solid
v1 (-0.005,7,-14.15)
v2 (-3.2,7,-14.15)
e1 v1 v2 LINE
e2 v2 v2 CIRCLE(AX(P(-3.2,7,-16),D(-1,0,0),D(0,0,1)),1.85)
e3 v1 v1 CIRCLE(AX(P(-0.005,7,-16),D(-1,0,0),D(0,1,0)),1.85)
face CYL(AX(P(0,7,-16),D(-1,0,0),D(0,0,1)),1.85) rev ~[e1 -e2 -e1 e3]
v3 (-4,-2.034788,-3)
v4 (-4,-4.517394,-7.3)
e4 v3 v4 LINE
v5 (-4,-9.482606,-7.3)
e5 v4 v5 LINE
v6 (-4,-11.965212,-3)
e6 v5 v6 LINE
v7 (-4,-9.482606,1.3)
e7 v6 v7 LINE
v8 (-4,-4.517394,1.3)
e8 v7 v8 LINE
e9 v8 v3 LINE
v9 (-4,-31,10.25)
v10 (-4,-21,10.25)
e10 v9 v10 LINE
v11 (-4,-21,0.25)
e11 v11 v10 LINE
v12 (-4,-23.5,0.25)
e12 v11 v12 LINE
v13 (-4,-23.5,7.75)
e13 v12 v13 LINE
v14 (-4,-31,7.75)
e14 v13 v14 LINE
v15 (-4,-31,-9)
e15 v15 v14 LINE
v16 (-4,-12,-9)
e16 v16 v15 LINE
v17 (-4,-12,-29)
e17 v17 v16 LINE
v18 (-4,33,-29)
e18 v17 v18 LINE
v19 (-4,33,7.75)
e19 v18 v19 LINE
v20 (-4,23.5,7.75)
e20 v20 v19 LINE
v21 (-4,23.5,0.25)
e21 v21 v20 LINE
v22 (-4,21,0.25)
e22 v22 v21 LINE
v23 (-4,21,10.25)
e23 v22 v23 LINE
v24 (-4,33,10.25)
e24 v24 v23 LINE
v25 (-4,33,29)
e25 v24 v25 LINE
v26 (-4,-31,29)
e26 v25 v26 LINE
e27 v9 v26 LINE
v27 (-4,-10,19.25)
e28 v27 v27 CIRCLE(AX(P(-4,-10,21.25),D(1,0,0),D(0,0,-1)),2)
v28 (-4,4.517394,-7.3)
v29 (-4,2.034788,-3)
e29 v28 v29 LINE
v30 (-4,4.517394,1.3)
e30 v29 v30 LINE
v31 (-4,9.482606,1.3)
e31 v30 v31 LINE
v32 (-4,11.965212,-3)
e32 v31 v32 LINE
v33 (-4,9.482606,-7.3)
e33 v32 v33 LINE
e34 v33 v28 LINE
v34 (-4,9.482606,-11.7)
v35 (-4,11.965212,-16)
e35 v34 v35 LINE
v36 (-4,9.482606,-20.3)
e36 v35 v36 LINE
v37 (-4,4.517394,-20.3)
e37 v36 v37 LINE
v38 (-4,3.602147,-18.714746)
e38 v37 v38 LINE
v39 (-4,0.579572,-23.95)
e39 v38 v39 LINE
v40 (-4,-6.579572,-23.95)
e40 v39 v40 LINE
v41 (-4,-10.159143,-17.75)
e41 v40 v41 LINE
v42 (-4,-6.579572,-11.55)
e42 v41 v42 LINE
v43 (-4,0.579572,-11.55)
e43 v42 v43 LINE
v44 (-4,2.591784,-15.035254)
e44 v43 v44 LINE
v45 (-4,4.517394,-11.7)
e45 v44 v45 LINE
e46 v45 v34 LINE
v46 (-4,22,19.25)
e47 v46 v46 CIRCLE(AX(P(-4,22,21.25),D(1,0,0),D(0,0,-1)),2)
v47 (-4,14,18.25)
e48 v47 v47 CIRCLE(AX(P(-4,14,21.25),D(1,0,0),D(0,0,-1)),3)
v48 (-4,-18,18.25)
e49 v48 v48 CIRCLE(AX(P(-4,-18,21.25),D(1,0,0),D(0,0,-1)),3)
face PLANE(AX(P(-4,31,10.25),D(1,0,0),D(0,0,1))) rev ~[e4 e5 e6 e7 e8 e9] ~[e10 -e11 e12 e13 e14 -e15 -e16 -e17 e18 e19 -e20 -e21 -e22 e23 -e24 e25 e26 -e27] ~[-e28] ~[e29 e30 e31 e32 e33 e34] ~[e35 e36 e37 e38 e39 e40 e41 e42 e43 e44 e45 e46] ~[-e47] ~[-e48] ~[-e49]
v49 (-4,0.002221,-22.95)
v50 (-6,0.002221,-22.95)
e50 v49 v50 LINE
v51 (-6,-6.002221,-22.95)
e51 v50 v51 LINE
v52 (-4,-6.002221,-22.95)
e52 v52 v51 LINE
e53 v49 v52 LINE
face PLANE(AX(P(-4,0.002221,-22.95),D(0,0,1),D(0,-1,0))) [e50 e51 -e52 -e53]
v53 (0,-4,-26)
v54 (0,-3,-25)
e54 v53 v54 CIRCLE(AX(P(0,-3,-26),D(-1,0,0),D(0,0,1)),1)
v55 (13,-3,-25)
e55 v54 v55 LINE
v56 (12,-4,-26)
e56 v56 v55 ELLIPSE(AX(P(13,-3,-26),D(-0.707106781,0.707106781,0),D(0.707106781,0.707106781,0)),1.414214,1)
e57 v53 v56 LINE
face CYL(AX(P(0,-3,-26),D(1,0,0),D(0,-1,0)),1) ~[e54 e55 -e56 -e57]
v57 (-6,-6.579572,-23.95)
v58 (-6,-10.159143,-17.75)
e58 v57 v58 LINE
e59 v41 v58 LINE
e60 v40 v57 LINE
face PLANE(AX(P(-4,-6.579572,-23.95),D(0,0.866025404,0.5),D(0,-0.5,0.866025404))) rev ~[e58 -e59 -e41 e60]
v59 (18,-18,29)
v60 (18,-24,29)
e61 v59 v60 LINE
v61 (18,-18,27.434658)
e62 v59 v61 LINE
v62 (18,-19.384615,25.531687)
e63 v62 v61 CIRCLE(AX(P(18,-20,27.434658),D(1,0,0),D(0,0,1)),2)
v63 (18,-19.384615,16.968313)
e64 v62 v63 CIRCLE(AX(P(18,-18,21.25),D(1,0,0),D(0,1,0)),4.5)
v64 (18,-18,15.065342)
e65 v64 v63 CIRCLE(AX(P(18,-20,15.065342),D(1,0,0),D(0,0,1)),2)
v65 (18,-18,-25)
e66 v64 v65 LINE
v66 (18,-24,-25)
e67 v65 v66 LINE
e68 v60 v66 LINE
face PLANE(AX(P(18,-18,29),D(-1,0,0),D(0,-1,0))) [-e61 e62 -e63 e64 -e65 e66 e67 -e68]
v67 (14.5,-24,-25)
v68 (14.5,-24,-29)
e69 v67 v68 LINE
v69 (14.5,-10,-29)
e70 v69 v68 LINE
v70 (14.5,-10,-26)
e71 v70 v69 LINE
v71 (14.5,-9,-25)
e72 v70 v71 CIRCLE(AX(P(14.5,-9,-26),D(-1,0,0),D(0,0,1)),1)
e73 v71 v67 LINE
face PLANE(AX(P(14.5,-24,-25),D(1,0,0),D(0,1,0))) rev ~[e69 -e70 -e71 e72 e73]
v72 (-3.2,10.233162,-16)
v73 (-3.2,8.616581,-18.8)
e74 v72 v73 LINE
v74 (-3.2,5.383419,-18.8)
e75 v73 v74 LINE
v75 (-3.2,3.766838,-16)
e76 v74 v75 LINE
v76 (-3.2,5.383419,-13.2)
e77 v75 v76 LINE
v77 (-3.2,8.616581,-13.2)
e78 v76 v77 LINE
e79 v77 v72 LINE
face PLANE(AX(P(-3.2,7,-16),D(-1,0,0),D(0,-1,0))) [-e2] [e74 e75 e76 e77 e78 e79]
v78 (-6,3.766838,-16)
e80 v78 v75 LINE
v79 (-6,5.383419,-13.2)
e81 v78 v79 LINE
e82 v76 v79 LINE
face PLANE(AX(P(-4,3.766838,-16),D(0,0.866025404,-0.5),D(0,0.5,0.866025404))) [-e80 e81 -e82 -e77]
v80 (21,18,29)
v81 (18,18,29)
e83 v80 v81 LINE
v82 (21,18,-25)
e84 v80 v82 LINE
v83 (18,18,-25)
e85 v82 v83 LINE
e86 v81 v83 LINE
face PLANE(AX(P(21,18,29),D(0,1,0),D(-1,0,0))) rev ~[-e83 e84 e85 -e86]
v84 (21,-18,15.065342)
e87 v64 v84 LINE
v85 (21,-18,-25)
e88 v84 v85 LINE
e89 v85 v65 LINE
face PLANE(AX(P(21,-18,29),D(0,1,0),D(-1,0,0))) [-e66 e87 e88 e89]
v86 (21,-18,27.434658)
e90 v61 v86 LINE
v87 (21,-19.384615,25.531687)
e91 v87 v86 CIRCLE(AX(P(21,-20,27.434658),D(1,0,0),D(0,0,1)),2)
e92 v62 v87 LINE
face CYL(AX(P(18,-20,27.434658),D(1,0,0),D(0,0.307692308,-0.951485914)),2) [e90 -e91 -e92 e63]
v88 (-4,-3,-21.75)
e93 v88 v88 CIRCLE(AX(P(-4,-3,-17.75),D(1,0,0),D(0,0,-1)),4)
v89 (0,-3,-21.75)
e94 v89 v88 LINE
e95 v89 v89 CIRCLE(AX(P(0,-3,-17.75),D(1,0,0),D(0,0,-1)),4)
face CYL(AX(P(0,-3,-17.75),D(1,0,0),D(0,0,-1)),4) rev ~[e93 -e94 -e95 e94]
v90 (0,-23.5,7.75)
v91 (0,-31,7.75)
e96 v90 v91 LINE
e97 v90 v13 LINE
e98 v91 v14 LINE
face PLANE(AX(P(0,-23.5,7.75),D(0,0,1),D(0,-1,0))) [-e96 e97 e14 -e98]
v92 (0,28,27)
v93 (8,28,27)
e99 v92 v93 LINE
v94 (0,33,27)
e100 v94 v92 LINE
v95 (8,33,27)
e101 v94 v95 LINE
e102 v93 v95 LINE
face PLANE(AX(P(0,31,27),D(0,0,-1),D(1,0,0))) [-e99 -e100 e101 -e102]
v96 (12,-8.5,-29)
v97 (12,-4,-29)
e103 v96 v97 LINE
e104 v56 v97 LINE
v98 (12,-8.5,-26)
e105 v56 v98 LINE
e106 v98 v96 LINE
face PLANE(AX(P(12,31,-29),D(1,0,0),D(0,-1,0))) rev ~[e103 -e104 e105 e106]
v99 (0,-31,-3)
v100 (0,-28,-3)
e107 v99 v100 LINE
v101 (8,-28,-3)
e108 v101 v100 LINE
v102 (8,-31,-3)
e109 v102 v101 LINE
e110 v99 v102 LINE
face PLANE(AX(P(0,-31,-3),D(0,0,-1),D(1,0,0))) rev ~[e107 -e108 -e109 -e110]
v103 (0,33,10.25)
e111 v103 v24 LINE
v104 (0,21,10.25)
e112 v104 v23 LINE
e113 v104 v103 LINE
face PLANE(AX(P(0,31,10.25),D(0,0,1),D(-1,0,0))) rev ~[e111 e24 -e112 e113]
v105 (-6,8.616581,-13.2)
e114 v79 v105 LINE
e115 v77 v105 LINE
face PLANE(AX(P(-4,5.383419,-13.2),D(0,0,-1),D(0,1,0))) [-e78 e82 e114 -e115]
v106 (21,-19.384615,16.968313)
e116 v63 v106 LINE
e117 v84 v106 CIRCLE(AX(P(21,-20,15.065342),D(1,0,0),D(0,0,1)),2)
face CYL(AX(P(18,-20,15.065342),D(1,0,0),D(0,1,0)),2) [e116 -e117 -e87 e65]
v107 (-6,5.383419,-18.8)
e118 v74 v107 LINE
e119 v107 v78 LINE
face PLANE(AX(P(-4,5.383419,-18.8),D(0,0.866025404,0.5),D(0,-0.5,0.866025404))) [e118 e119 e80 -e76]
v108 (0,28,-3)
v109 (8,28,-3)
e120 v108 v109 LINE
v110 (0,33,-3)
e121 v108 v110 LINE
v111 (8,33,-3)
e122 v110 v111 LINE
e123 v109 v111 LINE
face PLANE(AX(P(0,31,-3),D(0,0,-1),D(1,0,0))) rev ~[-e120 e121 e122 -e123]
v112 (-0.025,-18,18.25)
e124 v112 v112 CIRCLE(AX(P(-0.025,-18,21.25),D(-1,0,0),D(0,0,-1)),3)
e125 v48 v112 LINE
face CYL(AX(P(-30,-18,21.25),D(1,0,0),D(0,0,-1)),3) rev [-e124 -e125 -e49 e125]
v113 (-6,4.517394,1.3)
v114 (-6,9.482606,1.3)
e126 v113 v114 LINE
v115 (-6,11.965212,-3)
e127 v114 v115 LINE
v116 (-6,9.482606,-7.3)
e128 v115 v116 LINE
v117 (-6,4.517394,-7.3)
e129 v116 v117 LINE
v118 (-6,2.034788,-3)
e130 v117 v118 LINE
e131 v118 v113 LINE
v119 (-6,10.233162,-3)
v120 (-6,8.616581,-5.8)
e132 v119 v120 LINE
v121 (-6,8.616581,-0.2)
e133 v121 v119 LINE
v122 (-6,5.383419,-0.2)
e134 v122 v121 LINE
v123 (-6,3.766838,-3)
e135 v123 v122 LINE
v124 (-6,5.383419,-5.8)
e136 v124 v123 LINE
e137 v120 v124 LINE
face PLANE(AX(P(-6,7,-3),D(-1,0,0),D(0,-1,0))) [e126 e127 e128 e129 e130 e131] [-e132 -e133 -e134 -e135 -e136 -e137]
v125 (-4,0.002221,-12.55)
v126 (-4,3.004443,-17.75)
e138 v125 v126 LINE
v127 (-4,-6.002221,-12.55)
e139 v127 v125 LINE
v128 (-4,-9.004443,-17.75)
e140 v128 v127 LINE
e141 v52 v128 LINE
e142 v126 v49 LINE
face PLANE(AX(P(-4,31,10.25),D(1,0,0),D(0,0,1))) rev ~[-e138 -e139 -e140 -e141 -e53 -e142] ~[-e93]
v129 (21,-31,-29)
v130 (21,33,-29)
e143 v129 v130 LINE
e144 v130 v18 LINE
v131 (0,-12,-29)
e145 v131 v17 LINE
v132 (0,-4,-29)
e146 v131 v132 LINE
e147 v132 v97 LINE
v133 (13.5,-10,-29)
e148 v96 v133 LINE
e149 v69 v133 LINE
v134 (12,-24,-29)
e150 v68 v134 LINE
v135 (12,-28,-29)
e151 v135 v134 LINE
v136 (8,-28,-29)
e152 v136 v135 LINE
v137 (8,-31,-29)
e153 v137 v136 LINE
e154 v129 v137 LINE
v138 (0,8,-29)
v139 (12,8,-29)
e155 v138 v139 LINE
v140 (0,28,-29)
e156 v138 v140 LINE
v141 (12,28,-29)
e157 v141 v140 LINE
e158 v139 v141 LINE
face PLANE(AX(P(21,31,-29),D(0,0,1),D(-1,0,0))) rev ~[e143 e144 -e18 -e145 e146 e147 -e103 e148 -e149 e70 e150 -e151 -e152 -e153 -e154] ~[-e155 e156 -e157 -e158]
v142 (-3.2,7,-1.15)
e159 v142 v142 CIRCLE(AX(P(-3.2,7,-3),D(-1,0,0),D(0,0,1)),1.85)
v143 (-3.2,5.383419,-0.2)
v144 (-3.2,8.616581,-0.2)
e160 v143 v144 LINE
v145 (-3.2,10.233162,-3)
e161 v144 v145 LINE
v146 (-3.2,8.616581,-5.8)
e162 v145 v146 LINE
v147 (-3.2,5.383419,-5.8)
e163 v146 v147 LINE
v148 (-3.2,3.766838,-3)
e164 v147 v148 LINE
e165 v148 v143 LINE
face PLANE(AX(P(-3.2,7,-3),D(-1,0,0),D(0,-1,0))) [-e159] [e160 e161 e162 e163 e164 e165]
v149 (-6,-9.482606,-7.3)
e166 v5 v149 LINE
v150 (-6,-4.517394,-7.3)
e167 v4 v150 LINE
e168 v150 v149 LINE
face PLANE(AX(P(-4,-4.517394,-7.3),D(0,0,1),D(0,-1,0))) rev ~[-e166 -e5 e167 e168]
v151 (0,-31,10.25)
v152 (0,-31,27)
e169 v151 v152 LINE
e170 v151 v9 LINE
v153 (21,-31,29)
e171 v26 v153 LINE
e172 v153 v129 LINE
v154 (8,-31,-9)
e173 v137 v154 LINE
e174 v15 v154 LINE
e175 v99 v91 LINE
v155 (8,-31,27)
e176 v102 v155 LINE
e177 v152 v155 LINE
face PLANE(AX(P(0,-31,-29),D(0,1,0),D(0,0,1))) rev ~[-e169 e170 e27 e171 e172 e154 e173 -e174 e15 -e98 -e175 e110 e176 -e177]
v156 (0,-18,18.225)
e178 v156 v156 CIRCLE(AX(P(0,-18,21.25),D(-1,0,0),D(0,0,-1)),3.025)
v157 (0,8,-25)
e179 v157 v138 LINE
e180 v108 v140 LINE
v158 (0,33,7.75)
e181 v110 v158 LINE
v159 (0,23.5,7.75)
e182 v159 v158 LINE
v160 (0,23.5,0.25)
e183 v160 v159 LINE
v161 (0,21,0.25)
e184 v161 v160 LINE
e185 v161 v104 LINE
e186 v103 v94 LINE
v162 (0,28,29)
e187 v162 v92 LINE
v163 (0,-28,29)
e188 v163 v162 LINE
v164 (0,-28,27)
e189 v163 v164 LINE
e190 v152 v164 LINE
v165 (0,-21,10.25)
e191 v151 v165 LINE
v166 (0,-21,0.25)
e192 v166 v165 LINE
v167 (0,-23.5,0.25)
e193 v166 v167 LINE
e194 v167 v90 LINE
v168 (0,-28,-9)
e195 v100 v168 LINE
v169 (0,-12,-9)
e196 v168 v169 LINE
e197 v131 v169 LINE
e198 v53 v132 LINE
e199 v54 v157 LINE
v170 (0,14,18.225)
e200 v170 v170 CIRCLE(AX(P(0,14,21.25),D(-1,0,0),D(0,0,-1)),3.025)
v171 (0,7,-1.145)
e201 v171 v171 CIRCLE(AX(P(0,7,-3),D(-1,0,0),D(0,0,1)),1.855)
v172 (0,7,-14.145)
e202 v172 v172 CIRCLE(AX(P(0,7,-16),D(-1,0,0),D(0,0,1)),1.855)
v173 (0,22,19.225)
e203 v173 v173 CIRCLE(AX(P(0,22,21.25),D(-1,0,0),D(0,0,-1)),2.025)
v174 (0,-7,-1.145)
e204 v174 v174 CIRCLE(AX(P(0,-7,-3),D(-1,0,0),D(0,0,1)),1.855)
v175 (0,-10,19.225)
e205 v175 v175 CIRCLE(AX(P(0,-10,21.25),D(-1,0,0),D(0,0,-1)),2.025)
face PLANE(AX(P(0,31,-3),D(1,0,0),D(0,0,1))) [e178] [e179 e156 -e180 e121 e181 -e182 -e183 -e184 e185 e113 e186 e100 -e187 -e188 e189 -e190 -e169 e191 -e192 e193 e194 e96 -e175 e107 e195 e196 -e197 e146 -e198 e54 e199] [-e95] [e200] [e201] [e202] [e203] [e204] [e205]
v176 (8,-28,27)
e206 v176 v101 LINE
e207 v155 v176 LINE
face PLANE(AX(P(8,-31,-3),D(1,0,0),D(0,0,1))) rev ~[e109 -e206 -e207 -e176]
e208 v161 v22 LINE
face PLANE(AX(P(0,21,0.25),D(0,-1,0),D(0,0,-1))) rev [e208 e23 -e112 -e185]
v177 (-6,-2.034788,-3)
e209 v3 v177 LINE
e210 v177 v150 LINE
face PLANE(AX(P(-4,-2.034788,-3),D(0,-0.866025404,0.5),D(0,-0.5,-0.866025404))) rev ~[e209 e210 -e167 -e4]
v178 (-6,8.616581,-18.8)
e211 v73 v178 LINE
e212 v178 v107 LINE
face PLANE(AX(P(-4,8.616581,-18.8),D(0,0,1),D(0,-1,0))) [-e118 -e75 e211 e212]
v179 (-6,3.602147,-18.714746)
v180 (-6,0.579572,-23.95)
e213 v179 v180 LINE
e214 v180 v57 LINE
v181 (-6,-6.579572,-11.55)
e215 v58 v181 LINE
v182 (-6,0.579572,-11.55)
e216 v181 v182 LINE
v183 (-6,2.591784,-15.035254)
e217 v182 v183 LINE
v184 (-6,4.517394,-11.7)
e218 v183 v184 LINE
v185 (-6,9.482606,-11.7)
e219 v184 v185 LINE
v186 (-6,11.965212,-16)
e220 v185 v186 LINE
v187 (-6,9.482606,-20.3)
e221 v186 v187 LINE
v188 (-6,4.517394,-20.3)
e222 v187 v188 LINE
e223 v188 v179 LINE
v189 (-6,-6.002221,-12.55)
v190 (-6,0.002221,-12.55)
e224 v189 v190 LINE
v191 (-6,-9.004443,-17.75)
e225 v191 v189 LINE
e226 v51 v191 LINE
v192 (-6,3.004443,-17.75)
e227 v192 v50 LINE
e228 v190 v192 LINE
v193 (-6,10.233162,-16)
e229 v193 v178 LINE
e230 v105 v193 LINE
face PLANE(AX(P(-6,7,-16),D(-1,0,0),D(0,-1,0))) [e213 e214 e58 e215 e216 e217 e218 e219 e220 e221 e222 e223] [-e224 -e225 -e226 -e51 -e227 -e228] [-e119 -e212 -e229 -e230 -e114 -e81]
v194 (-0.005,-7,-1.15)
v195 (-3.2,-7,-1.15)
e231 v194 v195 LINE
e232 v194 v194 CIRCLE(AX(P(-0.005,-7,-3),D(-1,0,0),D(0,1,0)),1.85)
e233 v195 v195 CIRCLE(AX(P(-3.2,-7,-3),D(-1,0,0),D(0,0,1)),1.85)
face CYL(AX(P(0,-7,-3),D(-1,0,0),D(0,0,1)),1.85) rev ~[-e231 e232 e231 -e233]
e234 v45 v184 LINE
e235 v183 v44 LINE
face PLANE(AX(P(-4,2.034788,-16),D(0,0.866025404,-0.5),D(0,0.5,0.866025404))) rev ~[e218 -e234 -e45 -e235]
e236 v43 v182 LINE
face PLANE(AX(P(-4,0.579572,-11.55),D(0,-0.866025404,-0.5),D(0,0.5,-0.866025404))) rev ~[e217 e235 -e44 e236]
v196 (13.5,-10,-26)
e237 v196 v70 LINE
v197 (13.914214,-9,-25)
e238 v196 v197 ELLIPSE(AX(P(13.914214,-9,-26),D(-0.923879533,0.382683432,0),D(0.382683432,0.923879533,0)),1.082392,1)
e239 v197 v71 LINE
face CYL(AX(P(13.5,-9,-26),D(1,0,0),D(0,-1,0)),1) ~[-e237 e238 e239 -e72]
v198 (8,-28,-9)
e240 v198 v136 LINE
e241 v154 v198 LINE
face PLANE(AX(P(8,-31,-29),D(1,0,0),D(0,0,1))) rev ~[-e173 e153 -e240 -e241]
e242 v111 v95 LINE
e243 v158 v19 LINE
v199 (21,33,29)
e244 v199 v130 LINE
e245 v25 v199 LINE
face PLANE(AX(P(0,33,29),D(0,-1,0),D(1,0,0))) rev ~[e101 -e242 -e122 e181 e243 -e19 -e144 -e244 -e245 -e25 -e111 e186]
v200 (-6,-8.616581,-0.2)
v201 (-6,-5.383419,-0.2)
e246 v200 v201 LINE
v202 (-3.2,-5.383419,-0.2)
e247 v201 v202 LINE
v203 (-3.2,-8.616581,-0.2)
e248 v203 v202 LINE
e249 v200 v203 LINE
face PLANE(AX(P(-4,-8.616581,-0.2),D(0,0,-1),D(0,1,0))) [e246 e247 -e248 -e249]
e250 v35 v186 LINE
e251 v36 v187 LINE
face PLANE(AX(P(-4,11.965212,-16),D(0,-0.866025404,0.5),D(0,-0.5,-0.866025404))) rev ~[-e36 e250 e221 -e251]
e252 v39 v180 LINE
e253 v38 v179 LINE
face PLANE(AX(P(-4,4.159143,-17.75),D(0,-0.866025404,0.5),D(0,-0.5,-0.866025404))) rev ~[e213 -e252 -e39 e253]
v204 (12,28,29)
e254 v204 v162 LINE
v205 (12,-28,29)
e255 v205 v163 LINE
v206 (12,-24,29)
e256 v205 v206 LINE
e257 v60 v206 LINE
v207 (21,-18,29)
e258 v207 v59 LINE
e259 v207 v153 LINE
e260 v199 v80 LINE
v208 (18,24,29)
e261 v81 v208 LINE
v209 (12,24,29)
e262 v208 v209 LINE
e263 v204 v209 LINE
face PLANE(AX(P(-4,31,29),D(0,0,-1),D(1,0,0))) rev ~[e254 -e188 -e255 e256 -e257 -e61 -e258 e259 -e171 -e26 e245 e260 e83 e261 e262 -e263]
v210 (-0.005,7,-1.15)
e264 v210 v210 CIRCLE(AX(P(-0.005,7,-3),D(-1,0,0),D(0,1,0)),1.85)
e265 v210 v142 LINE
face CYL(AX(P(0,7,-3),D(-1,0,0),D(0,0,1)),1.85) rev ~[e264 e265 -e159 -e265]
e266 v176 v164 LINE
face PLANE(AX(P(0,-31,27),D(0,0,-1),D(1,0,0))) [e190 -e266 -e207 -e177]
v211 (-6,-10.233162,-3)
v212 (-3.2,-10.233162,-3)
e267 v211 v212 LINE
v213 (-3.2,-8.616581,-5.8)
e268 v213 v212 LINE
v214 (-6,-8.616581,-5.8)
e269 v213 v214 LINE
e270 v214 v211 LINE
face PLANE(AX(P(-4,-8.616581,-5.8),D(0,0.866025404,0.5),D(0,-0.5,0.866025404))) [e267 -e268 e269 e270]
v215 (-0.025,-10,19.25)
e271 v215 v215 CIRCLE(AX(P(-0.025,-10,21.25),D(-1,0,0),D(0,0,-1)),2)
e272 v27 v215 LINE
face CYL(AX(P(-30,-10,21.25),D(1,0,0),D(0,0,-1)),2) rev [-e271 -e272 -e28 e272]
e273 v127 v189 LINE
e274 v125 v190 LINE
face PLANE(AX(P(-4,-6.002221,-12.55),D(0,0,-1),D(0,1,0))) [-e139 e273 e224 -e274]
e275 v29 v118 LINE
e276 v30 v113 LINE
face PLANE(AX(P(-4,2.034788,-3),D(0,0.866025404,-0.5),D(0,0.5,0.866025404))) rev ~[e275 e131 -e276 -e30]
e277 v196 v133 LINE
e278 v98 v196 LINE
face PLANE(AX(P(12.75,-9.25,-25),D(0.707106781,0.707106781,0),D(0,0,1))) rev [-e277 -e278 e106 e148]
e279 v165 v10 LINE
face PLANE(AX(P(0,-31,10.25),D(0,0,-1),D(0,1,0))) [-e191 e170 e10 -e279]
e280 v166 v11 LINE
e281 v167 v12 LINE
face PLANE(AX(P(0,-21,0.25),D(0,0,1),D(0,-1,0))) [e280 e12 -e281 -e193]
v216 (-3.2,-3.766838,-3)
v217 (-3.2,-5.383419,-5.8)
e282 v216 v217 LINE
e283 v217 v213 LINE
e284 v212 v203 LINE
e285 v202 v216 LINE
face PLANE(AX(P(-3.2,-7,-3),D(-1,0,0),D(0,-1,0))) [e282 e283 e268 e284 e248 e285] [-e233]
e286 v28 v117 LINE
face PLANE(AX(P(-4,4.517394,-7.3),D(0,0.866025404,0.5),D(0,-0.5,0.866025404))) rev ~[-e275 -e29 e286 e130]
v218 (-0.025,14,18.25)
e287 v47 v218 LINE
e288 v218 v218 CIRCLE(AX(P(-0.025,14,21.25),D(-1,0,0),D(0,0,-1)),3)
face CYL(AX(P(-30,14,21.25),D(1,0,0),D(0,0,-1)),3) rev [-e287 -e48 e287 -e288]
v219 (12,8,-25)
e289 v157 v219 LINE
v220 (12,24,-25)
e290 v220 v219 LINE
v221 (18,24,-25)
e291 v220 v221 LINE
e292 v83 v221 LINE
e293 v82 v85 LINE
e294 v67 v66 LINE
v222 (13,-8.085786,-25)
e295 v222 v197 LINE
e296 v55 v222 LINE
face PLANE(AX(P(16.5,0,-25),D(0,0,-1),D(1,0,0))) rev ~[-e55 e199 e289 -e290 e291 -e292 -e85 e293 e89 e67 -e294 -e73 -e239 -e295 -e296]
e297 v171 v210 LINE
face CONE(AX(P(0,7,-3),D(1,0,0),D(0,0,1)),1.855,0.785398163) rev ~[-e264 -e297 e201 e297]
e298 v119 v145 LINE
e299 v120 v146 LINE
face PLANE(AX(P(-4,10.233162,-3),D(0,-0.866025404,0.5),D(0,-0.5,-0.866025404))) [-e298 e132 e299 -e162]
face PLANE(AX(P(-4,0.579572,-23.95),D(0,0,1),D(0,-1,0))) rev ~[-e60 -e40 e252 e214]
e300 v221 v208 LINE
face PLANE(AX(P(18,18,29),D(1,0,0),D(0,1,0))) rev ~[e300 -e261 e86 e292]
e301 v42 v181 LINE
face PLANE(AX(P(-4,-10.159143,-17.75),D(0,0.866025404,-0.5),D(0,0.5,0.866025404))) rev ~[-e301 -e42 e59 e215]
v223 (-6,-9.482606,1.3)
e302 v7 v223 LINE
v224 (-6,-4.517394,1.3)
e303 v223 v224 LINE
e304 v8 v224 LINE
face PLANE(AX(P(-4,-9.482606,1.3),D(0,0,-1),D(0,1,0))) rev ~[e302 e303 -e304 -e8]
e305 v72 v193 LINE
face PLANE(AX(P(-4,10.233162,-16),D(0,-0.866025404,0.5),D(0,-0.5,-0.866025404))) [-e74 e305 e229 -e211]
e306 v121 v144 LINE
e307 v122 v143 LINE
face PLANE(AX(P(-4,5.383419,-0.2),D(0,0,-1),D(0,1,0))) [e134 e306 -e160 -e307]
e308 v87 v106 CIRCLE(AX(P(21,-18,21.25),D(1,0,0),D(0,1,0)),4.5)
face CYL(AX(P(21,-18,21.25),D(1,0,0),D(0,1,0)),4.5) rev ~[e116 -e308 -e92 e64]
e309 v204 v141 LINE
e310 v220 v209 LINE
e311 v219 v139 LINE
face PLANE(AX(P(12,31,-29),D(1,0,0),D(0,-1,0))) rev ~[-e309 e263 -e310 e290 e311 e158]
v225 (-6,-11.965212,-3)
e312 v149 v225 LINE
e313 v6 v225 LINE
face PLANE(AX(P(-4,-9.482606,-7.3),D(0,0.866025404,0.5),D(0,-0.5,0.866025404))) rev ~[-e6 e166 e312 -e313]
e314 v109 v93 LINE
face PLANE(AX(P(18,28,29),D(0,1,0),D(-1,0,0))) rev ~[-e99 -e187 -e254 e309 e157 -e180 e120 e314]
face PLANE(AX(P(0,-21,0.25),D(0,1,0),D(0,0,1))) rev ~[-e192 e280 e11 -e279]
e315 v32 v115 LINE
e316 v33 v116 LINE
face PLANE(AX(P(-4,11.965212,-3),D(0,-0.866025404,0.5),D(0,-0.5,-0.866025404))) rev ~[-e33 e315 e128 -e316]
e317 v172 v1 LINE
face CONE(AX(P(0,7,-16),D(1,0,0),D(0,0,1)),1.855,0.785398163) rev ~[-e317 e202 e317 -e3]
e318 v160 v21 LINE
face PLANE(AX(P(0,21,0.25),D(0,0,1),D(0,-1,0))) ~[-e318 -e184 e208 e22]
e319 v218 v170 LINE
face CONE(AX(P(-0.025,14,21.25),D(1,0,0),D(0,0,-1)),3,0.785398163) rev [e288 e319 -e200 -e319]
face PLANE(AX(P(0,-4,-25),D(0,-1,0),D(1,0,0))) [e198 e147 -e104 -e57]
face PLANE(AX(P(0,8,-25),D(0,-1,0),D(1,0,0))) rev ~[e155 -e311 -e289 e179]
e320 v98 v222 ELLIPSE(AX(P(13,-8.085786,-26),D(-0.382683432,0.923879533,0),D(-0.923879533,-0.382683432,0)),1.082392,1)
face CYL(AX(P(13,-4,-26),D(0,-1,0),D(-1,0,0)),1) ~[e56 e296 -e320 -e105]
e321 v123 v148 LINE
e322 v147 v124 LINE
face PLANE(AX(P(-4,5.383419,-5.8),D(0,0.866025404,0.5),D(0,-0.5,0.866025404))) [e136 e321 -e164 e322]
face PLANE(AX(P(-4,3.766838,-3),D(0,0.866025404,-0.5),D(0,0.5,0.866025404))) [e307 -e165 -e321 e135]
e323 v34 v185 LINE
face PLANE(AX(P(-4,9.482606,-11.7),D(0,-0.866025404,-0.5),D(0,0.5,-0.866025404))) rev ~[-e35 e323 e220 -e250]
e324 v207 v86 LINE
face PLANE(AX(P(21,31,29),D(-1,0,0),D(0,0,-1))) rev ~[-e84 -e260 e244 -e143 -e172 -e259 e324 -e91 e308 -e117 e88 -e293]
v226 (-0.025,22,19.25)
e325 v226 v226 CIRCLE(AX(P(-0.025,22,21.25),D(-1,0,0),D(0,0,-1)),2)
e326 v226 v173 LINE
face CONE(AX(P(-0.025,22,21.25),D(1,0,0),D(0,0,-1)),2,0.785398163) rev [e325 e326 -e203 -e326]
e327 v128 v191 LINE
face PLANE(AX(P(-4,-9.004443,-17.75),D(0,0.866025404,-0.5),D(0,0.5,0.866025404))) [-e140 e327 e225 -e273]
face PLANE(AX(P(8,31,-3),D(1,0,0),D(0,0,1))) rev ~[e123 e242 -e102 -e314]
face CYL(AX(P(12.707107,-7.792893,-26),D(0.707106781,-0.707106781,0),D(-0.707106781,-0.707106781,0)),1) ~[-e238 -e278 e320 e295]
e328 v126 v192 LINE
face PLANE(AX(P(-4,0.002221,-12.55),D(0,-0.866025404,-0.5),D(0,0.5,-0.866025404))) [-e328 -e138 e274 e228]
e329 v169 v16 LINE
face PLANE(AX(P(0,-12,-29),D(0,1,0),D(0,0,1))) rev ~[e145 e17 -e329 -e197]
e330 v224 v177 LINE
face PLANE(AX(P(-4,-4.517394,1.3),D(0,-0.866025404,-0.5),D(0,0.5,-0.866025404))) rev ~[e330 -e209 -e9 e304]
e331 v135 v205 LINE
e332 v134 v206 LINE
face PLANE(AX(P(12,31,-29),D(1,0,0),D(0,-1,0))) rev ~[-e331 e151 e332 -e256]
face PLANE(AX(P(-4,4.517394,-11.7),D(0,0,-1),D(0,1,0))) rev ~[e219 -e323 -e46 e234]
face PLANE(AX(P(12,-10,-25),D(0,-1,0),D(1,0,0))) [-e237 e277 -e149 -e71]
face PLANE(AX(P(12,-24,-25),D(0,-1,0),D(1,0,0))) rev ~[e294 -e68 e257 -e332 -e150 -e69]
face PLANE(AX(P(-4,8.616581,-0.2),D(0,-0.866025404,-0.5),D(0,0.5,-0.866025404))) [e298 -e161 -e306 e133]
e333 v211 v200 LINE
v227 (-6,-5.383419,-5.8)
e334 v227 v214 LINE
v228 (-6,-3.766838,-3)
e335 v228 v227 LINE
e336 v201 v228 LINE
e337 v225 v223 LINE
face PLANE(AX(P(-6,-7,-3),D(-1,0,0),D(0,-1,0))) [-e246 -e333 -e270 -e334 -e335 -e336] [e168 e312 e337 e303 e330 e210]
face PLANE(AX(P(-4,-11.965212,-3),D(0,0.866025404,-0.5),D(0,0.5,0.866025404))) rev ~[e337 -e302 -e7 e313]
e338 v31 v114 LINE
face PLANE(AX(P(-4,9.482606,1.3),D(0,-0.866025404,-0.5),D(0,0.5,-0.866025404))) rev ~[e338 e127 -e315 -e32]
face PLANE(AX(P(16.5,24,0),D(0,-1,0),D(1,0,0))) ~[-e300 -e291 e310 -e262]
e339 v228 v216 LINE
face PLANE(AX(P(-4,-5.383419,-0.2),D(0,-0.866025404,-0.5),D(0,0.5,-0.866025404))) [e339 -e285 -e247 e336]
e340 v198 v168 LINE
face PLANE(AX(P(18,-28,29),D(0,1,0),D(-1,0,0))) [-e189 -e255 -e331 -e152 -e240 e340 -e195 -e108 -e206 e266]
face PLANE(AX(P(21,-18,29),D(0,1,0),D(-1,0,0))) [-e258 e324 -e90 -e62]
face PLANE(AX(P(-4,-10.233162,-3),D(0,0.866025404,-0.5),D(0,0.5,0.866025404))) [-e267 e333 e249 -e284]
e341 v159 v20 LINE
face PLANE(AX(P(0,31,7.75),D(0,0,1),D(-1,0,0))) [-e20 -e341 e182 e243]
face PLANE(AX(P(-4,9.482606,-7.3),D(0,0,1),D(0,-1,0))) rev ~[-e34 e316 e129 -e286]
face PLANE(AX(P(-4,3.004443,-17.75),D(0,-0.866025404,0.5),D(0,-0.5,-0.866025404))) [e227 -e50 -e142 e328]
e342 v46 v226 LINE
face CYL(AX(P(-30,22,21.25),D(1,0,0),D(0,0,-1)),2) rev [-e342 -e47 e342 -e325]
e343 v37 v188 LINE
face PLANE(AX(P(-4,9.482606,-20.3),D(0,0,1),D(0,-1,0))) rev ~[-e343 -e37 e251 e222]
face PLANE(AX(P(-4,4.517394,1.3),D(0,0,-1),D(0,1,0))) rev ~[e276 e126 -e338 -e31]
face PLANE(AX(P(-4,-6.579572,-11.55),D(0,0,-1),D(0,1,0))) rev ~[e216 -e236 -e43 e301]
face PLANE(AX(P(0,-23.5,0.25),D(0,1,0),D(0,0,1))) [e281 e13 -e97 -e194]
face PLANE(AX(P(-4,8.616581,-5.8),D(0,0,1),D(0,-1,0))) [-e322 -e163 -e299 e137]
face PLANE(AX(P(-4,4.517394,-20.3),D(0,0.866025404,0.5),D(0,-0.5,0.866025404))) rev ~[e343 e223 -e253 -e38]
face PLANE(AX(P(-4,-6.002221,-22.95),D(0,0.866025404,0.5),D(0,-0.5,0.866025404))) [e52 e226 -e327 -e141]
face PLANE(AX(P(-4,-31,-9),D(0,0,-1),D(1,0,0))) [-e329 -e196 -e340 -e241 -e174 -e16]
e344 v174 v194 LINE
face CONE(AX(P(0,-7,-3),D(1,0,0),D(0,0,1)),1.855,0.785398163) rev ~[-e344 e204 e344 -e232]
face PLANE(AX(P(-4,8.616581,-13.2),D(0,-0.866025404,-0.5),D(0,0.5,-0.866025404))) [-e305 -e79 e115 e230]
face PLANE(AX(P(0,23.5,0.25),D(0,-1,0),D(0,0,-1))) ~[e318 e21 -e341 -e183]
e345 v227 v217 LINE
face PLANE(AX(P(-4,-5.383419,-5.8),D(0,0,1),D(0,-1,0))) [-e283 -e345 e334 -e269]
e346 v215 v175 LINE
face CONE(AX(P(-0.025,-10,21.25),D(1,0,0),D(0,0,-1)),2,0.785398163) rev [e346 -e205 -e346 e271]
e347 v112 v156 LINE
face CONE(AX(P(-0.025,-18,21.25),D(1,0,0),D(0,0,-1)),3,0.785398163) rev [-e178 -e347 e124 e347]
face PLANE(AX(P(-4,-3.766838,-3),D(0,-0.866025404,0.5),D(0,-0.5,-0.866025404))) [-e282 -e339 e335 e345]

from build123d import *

# Parameters (mm, degrees)
SKETCH1_W                       = 62
SKETCH1_H                       = 58
BOSS_EXTRUDE1_DEPTH             = 4
BOSS_EXTRUDE2_DEPTH             = 58
F_4_0MM_DOWEL_HOLE1_D           = 3.7
F_4_0MM_DOWEL_HOLE1_DEPTH       = 30
F_4_0MM_DOWEL_HOLE1_CSINK_D     = 3.71
F_4_0MM_DOWEL_HOLE1_CSINK_ANGLE = 90
F_4_0MM_DOWEL_HOLE1_TIP         = 1.111592145
F_6_0MM_DOWEL_HOLE1_AT_2_COUNT  = 2
F_6_0MM_DOWEL_HOLE1_AT_2_PITCH  = 32
F_6_0MM_DOWEL_HOLE1_AT_3_COUNT  = 2
F_6_0MM_DOWEL_HOLE1_AT_3_PITCH  = 42.544094772
SKETCH9_W                       = 9
SKETCH9_H                       = 62
BOSS_EXTRUDE3_DEPTH             = 4
SKETCH11_W                      = 9
SKETCH11_H                      = 58
BOSS_EXTRUDE4_DEPTH             = 4
F_4_0MM_DOWEL_HOLE2_AT_2_COUNT  = 2
F_4_0MM_DOWEL_HOLE2_AT_2_PITCH  = 32
SKETCH17_W                      = 8
SKETCH17_H                      = 30
CUT_EXTRUDE1_DEPTH              = 10
SKETCH20_W                      = 16
SKETCH20_H                      = 20
CUT_EXTRUDE2_DEPTH              = 10
CUT_EXTRUDE3_DEPTH              = 10
SKETCH22_R                      = 4
CUT_EXTRUDE4_DEPTH              = 10
SKETCH23_W                      = 12
SKETCH23_H                      = 20
CUT_EXTRUDE5_DEPTH              = 10
SKETCH24_W                      = 2.5
SKETCH24_H                      = 14
CUT_EXTRUDE6_DEPTH              = 10
MOVE_FACE2_BY                   = 2
SKETCH25_W                      = 12
SKETCH25_H                      = 12
BOSS_EXTRUDE5_DEPTH             = 4
EXTRUDE_THIN1_DEPTH             = 2
CHAMFER1_SIZE                   = 1.5
FILLET3_R                       = 1
SKETCH28_R                      = 4.5
CUT_EXTRUDE7_DEPTH              = 10
FILLET4_R                       = 2
EXTRUDE_THIN2_DEPTH             = 2
CUT_EXTRUDE9_DEPTH              = 0.8


with BuildPart() as part:
    # Sketch1 → Boss-Extrude1 (new body)
    with BuildSketch(Plane.YZ):
        Rectangle(SKETCH1_W, SKETCH1_H)
    extrude(amount=-BOSS_EXTRUDE1_DEPTH)

    # Sketch3 → Boss-Extrude2 (add)
    with BuildSketch(Plane.XY.offset(29)):
        Polygon((0, 31), (21, 31), (21, 28), (21, 18), (18, 18), (18, 28), (0, 28), align=None)
        Polygon((0, -31), (21, -31), (21, -28), (21, -18), (18, -18), (18, -28), (0, -28), align=None)
    extrude(amount=-BOSS_EXTRUDE2_DEPTH)

    # Ø4.0mm Dowel Hole1
    with Locations(Plane(origin=(0, 0, 0), x_dir=(0, 0, -1), z_dir=(1, 0, 0))):
        with Locations((3, -7), (3, 7), (16, 7)):
            CounterSinkHole(F_4_0MM_DOWEL_HOLE1_D / 2, F_4_0MM_DOWEL_HOLE1_CSINK_D / 2, depth=F_4_0MM_DOWEL_HOLE1_DEPTH, counter_sink_angle=F_4_0MM_DOWEL_HOLE1_CSINK_ANGLE)
            with Locations((0, 0, -(F_4_0MM_DOWEL_HOLE1_DEPTH + F_4_0MM_DOWEL_HOLE1_TIP / 2))):  # 118° drill point
                Cone(0, F_4_0MM_DOWEL_HOLE1_D / 2, F_4_0MM_DOWEL_HOLE1_TIP, mode=Mode.SUBTRACT)

    # Sketch7 → Ø6.0mm Dowel Hole1 (revolve, cut)
    with BuildSketch(Plane(origin=(0, 14, 21.25), x_dir=(0, 0, -1), z_dir=(0, 1, 0))):
        Polygon((0, 0), (0, 31.802581857), (3, 30), (3, 0.025), (3.025, 0), align=None)
    f_6_0mm_dowel_hole1 = revolve(axis=Axis((6.35, 14, 21.25), (-1, 0, 0)), mode=Mode.SUBTRACT)

    # Ø6.0mm Dowel Hole1 at 2: Ø6.0mm Dowel Hole1 ×2
    with Locations(*[(0, -i * F_6_0MM_DOWEL_HOLE1_AT_2_PITCH, 0) for i in range(1, F_6_0MM_DOWEL_HOLE1_AT_2_COUNT)]):
        add(f_6_0mm_dowel_hole1, mode=Mode.SUBTRACT)

    # Ø6.0mm Dowel Hole1 at 3: Ø6.0mm Dowel Hole1 ×2
    with Locations(*[Vector(0, -0.39958542051392815, -0.9166959647084235) * (i * F_6_0MM_DOWEL_HOLE1_AT_3_PITCH) for i in range(1, F_6_0MM_DOWEL_HOLE1_AT_3_COUNT)]):
        add(f_6_0mm_dowel_hole1, mode=Mode.SUBTRACT)

    # Sketch9 → Boss-Extrude3 (add)
    with BuildSketch(Plane(origin=(0, 0, -29), x_dir=(1, 0, 0), z_dir=(0, 0, -1))):
        with Locations((16.5, 0)):
            Rectangle(SKETCH9_W, SKETCH9_H)
    extrude(amount=-BOSS_EXTRUDE3_DEPTH)

    # Sketch11 → Boss-Extrude4 (add)
    with BuildSketch(Plane(origin=(0, -28, 0), x_dir=(-1, 0, 0), z_dir=(0, 1, 0))):
        with Locations((-16.5, 0)):
            Rectangle(SKETCH11_W, SKETCH11_H)
    boss_extrude4 = extrude(amount=BOSS_EXTRUDE4_DEPTH)

    # Mirror1: Boss-Extrude4 across plane
    add(boss_extrude4.mirror(Plane.ZX))

    # Sketch14 → Ø4.0mm Dowel Hole2 (revolve, cut)
    with BuildSketch(Plane(origin=(0, -10, 21.25), x_dir=(0, 0, -1), z_dir=(0, 1, 0))):
        Polygon((0, 0), (0, 31.201721238), (2, 30), (2, 0.025), (2.025, 0), align=None)
    f_4_0mm_dowel_hole2 = revolve(axis=Axis((6.35, -10, 21.25), (-1, 0, 0)), mode=Mode.SUBTRACT)

    # Ø4.0mm Dowel Hole2 at 2: Ø4.0mm Dowel Hole2 ×2
    with Locations(*[(0, i * F_4_0MM_DOWEL_HOLE2_AT_2_PITCH, 0) for i in range(1, F_4_0MM_DOWEL_HOLE2_AT_2_COUNT)]):
        add(f_4_0mm_dowel_hole2, mode=Mode.SUBTRACT)

    # Sketch17 → Cut-Extrude1 (cut)
    with BuildSketch(Plane.XZ.offset(31)):
        with Locations((4, 12)):
            Rectangle(SKETCH17_W, SKETCH17_H)
    cut_extrude1 = extrude(amount=-CUT_EXTRUDE1_DEPTH, mode=Mode.SUBTRACT)

    # Sketch20 → Cut-Extrude2 (cut)
    with BuildSketch(Plane.YZ):
        with Locations((-20, -19)):
            Rectangle(SKETCH20_W, SKETCH20_H)
    extrude(amount=-CUT_EXTRUDE2_DEPTH, mode=Mode.SUBTRACT)

    # Sketch21 → Cut-Extrude3 (cut)
    with BuildSketch(Plane.YZ):
        Polygon((-31, 10.25), (-21, 10.25), (-21, 7.75), (-21, 0.25), (-23.5, 0.25), (-23.5, 7.75), (-31, 7.75), align=None)
    cut_extrude3 = extrude(amount=-CUT_EXTRUDE3_DEPTH, mode=Mode.SUBTRACT)

    # Mirror2: Cut-Extrude1, Cut-Extrude3 across plane
    add(cut_extrude1.mirror(Plane.ZX), mode=Mode.SUBTRACT)
    add(cut_extrude3.mirror(Plane.ZX), mode=Mode.SUBTRACT)

    # Sketch22 → Cut-Extrude4 (cut)
    with BuildSketch(Plane.YZ):
        with Locations(Location((-3, -17.75, 0), (0, 0, 270))):
            Circle(SKETCH22_R)
    extrude(amount=-CUT_EXTRUDE4_DEPTH, mode=Mode.SUBTRACT)

    # Sketch23 → Cut-Extrude5 (cut)
    with BuildSketch(Plane.XZ.offset(31)):
        with Locations((2, -19)):
            Rectangle(SKETCH23_W, SKETCH23_H)
    extrude(amount=-CUT_EXTRUDE5_DEPTH, mode=Mode.SUBTRACT)

    # Sketch24 → Cut-Extrude6 (cut)
    with BuildSketch(Plane.XY.offset(-25)):
        with Locations((13.25, -17)):
            Rectangle(SKETCH24_W, SKETCH24_H)
    extrude(amount=-CUT_EXTRUDE6_DEPTH, mode=Mode.SUBTRACT)

    # Move Face2: a face moved outward by 2.0
    extrude(part.faces().sort_by_distance((9.4875, 31, -2.475))[0], amount=MOVE_FACE2_BY, dir=(0, 1, 0))

    # Sketch25 → Boss-Extrude5 (add)
    with BuildSketch(Plane.XY.offset(-25)):
        with Locations((6, 2)):
            Rectangle(SKETCH25_W, SKETCH25_H)
    extrude(amount=-BOSS_EXTRUDE5_DEPTH)

    # Sketch26 → Extrude-Thin1 (add)
    with BuildSketch(Plane(origin=(-4, 0, 0), x_dir=(0, -1, 0), z_dir=(-1, 0, 0))):
        Polygon((6.579571669, -23.95), (10.159143338, -17.75), (6.579571669, -11.55), (-0.579571669, -11.55), (-4.159143338, -17.75), (-0.579571669, -23.95), align=None)
        Polygon((6.0022214, -22.95), (9.0044428, -17.75), (6.0022214, -12.55), (-0.0022214, -12.55), (-3.0044428, -17.75), (-0.0022214, -22.95), align=None, mode=Mode.SUBTRACT)
    extrude(amount=EXTRUDE_THIN1_DEPTH)

    # Chamfer1
    chamfer1_edges = [part.edges().sort_by_distance(p)[0] for p in [
        (12, -10, -27),
    ]]
    chamfer(chamfer1_edges, length=CHAMFER1_SIZE)

    # Fillet3
    fillet3_edges = [part.edges().sort_by_distance(p)[0] for p in [
        (14, -10, -25),
        (6, -4, -25),
        (12, -6.25, -25),
        (12.75, -9.25, -25),
    ]]
    fillet(fillet3_edges, radius=FILLET3_R)

    # Sketch28 → Cut-Extrude7 (cut)
    with BuildSketch(Plane.YZ.offset(21)):
        with Locations((-18, 21.25)):
            Circle(SKETCH28_R)
    extrude(amount=-CUT_EXTRUDE7_DEPTH, mode=Mode.SUBTRACT)

    # Fillet4
    fillet4_edges = [part.edges().sort_by_distance(p)[0] for p in [
        (19.5, -18, 25.75),
        (19.5, -18, 16.75),
    ]]
    fillet(fillet4_edges, radius=FILLET4_R)

    # Sketch29 → Extrude-Thin2 (add)
    # profile 1 of 3: a face of its own
    with BuildSketch(Plane(origin=(-4, 0, 0), x_dir=(0, -1, 0), z_dir=(-1, 0, 0))):
        Polygon((-4.517393842, -7.3), (-2.034787685, -3), (-4.517393842, 1.3), (-9.482606158, 1.3), (-11.965212315, -3), (-9.482606158, -7.3), align=None)
        Polygon((-5.383419246, -5.8), (-3.766838493, -3), (-5.383419246, -0.2), (-8.616580754, -0.2), (-10.233161507, -3), (-8.616580754, -5.8), align=None, mode=Mode.SUBTRACT)
    # profile 2 of 3: a face of its own
    with BuildSketch(Plane(origin=(-4, 0, 0), x_dir=(0, -1, 0), z_dir=(-1, 0, 0))):
        Polygon((9.482606158, -7.3), (11.965212315, -3), (9.482606158, 1.3), (4.517393842, 1.3), (2.034787685, -3), (4.517393842, -7.3), align=None)
        Polygon((8.616580754, -5.8), (10.233161507, -3), (8.616580754, -0.2), (5.383419246, -0.2), (3.766838493, -3), (5.383419246, -5.8), align=None, mode=Mode.SUBTRACT)
    # profile 3 of 3: a face of its own
    with BuildSketch(Plane(origin=(-4, 0, 0), x_dir=(0, -1, 0), z_dir=(-1, 0, 0))):
        Polygon((-4.517393842, -20.3), (-2.034787685, -16), (-4.517393842, -11.7), (-9.482606158, -11.7), (-11.965212315, -16), (-9.482606158, -20.3), align=None)
        Polygon((-5.383419246, -18.8), (-3.766838493, -16), (-5.383419246, -13.2), (-8.616580754, -13.2), (-10.233161507, -16), (-8.616580754, -18.8), align=None, mode=Mode.SUBTRACT)
    extrude(amount=EXTRUDE_THIN2_DEPTH)

    # Sketch30 → Cut-Extrude9 (cut)
    with BuildSketch(Plane(origin=(-4, 0, 0), x_dir=(0, -1, 0), z_dir=(-1, 0, 0))):
        Polygon((-8.616580754, -0.2), (-10.233161507, -3), (-8.616580754, -5.8), (-5.383419246, -5.8), (-3.766838493, -3), (-5.383419246, -0.2), align=None)
        Polygon((5.383419246, -0.2), (3.766838493, -3), (5.383419246, -5.8), (8.616580754, -5.8), (10.233161507, -3), (8.616580754, -0.2), align=None)
        Polygon((-10.233161507, -16), (-8.616580754, -18.8), (-5.383419246, -18.8), (-3.766838493, -16), (-5.383419246, -13.2), (-8.616580754, -13.2), align=None)
    extrude(amount=-CUT_EXTRUDE9_DEPTH, mode=Mode.SUBTRACT)


solid = part.part
